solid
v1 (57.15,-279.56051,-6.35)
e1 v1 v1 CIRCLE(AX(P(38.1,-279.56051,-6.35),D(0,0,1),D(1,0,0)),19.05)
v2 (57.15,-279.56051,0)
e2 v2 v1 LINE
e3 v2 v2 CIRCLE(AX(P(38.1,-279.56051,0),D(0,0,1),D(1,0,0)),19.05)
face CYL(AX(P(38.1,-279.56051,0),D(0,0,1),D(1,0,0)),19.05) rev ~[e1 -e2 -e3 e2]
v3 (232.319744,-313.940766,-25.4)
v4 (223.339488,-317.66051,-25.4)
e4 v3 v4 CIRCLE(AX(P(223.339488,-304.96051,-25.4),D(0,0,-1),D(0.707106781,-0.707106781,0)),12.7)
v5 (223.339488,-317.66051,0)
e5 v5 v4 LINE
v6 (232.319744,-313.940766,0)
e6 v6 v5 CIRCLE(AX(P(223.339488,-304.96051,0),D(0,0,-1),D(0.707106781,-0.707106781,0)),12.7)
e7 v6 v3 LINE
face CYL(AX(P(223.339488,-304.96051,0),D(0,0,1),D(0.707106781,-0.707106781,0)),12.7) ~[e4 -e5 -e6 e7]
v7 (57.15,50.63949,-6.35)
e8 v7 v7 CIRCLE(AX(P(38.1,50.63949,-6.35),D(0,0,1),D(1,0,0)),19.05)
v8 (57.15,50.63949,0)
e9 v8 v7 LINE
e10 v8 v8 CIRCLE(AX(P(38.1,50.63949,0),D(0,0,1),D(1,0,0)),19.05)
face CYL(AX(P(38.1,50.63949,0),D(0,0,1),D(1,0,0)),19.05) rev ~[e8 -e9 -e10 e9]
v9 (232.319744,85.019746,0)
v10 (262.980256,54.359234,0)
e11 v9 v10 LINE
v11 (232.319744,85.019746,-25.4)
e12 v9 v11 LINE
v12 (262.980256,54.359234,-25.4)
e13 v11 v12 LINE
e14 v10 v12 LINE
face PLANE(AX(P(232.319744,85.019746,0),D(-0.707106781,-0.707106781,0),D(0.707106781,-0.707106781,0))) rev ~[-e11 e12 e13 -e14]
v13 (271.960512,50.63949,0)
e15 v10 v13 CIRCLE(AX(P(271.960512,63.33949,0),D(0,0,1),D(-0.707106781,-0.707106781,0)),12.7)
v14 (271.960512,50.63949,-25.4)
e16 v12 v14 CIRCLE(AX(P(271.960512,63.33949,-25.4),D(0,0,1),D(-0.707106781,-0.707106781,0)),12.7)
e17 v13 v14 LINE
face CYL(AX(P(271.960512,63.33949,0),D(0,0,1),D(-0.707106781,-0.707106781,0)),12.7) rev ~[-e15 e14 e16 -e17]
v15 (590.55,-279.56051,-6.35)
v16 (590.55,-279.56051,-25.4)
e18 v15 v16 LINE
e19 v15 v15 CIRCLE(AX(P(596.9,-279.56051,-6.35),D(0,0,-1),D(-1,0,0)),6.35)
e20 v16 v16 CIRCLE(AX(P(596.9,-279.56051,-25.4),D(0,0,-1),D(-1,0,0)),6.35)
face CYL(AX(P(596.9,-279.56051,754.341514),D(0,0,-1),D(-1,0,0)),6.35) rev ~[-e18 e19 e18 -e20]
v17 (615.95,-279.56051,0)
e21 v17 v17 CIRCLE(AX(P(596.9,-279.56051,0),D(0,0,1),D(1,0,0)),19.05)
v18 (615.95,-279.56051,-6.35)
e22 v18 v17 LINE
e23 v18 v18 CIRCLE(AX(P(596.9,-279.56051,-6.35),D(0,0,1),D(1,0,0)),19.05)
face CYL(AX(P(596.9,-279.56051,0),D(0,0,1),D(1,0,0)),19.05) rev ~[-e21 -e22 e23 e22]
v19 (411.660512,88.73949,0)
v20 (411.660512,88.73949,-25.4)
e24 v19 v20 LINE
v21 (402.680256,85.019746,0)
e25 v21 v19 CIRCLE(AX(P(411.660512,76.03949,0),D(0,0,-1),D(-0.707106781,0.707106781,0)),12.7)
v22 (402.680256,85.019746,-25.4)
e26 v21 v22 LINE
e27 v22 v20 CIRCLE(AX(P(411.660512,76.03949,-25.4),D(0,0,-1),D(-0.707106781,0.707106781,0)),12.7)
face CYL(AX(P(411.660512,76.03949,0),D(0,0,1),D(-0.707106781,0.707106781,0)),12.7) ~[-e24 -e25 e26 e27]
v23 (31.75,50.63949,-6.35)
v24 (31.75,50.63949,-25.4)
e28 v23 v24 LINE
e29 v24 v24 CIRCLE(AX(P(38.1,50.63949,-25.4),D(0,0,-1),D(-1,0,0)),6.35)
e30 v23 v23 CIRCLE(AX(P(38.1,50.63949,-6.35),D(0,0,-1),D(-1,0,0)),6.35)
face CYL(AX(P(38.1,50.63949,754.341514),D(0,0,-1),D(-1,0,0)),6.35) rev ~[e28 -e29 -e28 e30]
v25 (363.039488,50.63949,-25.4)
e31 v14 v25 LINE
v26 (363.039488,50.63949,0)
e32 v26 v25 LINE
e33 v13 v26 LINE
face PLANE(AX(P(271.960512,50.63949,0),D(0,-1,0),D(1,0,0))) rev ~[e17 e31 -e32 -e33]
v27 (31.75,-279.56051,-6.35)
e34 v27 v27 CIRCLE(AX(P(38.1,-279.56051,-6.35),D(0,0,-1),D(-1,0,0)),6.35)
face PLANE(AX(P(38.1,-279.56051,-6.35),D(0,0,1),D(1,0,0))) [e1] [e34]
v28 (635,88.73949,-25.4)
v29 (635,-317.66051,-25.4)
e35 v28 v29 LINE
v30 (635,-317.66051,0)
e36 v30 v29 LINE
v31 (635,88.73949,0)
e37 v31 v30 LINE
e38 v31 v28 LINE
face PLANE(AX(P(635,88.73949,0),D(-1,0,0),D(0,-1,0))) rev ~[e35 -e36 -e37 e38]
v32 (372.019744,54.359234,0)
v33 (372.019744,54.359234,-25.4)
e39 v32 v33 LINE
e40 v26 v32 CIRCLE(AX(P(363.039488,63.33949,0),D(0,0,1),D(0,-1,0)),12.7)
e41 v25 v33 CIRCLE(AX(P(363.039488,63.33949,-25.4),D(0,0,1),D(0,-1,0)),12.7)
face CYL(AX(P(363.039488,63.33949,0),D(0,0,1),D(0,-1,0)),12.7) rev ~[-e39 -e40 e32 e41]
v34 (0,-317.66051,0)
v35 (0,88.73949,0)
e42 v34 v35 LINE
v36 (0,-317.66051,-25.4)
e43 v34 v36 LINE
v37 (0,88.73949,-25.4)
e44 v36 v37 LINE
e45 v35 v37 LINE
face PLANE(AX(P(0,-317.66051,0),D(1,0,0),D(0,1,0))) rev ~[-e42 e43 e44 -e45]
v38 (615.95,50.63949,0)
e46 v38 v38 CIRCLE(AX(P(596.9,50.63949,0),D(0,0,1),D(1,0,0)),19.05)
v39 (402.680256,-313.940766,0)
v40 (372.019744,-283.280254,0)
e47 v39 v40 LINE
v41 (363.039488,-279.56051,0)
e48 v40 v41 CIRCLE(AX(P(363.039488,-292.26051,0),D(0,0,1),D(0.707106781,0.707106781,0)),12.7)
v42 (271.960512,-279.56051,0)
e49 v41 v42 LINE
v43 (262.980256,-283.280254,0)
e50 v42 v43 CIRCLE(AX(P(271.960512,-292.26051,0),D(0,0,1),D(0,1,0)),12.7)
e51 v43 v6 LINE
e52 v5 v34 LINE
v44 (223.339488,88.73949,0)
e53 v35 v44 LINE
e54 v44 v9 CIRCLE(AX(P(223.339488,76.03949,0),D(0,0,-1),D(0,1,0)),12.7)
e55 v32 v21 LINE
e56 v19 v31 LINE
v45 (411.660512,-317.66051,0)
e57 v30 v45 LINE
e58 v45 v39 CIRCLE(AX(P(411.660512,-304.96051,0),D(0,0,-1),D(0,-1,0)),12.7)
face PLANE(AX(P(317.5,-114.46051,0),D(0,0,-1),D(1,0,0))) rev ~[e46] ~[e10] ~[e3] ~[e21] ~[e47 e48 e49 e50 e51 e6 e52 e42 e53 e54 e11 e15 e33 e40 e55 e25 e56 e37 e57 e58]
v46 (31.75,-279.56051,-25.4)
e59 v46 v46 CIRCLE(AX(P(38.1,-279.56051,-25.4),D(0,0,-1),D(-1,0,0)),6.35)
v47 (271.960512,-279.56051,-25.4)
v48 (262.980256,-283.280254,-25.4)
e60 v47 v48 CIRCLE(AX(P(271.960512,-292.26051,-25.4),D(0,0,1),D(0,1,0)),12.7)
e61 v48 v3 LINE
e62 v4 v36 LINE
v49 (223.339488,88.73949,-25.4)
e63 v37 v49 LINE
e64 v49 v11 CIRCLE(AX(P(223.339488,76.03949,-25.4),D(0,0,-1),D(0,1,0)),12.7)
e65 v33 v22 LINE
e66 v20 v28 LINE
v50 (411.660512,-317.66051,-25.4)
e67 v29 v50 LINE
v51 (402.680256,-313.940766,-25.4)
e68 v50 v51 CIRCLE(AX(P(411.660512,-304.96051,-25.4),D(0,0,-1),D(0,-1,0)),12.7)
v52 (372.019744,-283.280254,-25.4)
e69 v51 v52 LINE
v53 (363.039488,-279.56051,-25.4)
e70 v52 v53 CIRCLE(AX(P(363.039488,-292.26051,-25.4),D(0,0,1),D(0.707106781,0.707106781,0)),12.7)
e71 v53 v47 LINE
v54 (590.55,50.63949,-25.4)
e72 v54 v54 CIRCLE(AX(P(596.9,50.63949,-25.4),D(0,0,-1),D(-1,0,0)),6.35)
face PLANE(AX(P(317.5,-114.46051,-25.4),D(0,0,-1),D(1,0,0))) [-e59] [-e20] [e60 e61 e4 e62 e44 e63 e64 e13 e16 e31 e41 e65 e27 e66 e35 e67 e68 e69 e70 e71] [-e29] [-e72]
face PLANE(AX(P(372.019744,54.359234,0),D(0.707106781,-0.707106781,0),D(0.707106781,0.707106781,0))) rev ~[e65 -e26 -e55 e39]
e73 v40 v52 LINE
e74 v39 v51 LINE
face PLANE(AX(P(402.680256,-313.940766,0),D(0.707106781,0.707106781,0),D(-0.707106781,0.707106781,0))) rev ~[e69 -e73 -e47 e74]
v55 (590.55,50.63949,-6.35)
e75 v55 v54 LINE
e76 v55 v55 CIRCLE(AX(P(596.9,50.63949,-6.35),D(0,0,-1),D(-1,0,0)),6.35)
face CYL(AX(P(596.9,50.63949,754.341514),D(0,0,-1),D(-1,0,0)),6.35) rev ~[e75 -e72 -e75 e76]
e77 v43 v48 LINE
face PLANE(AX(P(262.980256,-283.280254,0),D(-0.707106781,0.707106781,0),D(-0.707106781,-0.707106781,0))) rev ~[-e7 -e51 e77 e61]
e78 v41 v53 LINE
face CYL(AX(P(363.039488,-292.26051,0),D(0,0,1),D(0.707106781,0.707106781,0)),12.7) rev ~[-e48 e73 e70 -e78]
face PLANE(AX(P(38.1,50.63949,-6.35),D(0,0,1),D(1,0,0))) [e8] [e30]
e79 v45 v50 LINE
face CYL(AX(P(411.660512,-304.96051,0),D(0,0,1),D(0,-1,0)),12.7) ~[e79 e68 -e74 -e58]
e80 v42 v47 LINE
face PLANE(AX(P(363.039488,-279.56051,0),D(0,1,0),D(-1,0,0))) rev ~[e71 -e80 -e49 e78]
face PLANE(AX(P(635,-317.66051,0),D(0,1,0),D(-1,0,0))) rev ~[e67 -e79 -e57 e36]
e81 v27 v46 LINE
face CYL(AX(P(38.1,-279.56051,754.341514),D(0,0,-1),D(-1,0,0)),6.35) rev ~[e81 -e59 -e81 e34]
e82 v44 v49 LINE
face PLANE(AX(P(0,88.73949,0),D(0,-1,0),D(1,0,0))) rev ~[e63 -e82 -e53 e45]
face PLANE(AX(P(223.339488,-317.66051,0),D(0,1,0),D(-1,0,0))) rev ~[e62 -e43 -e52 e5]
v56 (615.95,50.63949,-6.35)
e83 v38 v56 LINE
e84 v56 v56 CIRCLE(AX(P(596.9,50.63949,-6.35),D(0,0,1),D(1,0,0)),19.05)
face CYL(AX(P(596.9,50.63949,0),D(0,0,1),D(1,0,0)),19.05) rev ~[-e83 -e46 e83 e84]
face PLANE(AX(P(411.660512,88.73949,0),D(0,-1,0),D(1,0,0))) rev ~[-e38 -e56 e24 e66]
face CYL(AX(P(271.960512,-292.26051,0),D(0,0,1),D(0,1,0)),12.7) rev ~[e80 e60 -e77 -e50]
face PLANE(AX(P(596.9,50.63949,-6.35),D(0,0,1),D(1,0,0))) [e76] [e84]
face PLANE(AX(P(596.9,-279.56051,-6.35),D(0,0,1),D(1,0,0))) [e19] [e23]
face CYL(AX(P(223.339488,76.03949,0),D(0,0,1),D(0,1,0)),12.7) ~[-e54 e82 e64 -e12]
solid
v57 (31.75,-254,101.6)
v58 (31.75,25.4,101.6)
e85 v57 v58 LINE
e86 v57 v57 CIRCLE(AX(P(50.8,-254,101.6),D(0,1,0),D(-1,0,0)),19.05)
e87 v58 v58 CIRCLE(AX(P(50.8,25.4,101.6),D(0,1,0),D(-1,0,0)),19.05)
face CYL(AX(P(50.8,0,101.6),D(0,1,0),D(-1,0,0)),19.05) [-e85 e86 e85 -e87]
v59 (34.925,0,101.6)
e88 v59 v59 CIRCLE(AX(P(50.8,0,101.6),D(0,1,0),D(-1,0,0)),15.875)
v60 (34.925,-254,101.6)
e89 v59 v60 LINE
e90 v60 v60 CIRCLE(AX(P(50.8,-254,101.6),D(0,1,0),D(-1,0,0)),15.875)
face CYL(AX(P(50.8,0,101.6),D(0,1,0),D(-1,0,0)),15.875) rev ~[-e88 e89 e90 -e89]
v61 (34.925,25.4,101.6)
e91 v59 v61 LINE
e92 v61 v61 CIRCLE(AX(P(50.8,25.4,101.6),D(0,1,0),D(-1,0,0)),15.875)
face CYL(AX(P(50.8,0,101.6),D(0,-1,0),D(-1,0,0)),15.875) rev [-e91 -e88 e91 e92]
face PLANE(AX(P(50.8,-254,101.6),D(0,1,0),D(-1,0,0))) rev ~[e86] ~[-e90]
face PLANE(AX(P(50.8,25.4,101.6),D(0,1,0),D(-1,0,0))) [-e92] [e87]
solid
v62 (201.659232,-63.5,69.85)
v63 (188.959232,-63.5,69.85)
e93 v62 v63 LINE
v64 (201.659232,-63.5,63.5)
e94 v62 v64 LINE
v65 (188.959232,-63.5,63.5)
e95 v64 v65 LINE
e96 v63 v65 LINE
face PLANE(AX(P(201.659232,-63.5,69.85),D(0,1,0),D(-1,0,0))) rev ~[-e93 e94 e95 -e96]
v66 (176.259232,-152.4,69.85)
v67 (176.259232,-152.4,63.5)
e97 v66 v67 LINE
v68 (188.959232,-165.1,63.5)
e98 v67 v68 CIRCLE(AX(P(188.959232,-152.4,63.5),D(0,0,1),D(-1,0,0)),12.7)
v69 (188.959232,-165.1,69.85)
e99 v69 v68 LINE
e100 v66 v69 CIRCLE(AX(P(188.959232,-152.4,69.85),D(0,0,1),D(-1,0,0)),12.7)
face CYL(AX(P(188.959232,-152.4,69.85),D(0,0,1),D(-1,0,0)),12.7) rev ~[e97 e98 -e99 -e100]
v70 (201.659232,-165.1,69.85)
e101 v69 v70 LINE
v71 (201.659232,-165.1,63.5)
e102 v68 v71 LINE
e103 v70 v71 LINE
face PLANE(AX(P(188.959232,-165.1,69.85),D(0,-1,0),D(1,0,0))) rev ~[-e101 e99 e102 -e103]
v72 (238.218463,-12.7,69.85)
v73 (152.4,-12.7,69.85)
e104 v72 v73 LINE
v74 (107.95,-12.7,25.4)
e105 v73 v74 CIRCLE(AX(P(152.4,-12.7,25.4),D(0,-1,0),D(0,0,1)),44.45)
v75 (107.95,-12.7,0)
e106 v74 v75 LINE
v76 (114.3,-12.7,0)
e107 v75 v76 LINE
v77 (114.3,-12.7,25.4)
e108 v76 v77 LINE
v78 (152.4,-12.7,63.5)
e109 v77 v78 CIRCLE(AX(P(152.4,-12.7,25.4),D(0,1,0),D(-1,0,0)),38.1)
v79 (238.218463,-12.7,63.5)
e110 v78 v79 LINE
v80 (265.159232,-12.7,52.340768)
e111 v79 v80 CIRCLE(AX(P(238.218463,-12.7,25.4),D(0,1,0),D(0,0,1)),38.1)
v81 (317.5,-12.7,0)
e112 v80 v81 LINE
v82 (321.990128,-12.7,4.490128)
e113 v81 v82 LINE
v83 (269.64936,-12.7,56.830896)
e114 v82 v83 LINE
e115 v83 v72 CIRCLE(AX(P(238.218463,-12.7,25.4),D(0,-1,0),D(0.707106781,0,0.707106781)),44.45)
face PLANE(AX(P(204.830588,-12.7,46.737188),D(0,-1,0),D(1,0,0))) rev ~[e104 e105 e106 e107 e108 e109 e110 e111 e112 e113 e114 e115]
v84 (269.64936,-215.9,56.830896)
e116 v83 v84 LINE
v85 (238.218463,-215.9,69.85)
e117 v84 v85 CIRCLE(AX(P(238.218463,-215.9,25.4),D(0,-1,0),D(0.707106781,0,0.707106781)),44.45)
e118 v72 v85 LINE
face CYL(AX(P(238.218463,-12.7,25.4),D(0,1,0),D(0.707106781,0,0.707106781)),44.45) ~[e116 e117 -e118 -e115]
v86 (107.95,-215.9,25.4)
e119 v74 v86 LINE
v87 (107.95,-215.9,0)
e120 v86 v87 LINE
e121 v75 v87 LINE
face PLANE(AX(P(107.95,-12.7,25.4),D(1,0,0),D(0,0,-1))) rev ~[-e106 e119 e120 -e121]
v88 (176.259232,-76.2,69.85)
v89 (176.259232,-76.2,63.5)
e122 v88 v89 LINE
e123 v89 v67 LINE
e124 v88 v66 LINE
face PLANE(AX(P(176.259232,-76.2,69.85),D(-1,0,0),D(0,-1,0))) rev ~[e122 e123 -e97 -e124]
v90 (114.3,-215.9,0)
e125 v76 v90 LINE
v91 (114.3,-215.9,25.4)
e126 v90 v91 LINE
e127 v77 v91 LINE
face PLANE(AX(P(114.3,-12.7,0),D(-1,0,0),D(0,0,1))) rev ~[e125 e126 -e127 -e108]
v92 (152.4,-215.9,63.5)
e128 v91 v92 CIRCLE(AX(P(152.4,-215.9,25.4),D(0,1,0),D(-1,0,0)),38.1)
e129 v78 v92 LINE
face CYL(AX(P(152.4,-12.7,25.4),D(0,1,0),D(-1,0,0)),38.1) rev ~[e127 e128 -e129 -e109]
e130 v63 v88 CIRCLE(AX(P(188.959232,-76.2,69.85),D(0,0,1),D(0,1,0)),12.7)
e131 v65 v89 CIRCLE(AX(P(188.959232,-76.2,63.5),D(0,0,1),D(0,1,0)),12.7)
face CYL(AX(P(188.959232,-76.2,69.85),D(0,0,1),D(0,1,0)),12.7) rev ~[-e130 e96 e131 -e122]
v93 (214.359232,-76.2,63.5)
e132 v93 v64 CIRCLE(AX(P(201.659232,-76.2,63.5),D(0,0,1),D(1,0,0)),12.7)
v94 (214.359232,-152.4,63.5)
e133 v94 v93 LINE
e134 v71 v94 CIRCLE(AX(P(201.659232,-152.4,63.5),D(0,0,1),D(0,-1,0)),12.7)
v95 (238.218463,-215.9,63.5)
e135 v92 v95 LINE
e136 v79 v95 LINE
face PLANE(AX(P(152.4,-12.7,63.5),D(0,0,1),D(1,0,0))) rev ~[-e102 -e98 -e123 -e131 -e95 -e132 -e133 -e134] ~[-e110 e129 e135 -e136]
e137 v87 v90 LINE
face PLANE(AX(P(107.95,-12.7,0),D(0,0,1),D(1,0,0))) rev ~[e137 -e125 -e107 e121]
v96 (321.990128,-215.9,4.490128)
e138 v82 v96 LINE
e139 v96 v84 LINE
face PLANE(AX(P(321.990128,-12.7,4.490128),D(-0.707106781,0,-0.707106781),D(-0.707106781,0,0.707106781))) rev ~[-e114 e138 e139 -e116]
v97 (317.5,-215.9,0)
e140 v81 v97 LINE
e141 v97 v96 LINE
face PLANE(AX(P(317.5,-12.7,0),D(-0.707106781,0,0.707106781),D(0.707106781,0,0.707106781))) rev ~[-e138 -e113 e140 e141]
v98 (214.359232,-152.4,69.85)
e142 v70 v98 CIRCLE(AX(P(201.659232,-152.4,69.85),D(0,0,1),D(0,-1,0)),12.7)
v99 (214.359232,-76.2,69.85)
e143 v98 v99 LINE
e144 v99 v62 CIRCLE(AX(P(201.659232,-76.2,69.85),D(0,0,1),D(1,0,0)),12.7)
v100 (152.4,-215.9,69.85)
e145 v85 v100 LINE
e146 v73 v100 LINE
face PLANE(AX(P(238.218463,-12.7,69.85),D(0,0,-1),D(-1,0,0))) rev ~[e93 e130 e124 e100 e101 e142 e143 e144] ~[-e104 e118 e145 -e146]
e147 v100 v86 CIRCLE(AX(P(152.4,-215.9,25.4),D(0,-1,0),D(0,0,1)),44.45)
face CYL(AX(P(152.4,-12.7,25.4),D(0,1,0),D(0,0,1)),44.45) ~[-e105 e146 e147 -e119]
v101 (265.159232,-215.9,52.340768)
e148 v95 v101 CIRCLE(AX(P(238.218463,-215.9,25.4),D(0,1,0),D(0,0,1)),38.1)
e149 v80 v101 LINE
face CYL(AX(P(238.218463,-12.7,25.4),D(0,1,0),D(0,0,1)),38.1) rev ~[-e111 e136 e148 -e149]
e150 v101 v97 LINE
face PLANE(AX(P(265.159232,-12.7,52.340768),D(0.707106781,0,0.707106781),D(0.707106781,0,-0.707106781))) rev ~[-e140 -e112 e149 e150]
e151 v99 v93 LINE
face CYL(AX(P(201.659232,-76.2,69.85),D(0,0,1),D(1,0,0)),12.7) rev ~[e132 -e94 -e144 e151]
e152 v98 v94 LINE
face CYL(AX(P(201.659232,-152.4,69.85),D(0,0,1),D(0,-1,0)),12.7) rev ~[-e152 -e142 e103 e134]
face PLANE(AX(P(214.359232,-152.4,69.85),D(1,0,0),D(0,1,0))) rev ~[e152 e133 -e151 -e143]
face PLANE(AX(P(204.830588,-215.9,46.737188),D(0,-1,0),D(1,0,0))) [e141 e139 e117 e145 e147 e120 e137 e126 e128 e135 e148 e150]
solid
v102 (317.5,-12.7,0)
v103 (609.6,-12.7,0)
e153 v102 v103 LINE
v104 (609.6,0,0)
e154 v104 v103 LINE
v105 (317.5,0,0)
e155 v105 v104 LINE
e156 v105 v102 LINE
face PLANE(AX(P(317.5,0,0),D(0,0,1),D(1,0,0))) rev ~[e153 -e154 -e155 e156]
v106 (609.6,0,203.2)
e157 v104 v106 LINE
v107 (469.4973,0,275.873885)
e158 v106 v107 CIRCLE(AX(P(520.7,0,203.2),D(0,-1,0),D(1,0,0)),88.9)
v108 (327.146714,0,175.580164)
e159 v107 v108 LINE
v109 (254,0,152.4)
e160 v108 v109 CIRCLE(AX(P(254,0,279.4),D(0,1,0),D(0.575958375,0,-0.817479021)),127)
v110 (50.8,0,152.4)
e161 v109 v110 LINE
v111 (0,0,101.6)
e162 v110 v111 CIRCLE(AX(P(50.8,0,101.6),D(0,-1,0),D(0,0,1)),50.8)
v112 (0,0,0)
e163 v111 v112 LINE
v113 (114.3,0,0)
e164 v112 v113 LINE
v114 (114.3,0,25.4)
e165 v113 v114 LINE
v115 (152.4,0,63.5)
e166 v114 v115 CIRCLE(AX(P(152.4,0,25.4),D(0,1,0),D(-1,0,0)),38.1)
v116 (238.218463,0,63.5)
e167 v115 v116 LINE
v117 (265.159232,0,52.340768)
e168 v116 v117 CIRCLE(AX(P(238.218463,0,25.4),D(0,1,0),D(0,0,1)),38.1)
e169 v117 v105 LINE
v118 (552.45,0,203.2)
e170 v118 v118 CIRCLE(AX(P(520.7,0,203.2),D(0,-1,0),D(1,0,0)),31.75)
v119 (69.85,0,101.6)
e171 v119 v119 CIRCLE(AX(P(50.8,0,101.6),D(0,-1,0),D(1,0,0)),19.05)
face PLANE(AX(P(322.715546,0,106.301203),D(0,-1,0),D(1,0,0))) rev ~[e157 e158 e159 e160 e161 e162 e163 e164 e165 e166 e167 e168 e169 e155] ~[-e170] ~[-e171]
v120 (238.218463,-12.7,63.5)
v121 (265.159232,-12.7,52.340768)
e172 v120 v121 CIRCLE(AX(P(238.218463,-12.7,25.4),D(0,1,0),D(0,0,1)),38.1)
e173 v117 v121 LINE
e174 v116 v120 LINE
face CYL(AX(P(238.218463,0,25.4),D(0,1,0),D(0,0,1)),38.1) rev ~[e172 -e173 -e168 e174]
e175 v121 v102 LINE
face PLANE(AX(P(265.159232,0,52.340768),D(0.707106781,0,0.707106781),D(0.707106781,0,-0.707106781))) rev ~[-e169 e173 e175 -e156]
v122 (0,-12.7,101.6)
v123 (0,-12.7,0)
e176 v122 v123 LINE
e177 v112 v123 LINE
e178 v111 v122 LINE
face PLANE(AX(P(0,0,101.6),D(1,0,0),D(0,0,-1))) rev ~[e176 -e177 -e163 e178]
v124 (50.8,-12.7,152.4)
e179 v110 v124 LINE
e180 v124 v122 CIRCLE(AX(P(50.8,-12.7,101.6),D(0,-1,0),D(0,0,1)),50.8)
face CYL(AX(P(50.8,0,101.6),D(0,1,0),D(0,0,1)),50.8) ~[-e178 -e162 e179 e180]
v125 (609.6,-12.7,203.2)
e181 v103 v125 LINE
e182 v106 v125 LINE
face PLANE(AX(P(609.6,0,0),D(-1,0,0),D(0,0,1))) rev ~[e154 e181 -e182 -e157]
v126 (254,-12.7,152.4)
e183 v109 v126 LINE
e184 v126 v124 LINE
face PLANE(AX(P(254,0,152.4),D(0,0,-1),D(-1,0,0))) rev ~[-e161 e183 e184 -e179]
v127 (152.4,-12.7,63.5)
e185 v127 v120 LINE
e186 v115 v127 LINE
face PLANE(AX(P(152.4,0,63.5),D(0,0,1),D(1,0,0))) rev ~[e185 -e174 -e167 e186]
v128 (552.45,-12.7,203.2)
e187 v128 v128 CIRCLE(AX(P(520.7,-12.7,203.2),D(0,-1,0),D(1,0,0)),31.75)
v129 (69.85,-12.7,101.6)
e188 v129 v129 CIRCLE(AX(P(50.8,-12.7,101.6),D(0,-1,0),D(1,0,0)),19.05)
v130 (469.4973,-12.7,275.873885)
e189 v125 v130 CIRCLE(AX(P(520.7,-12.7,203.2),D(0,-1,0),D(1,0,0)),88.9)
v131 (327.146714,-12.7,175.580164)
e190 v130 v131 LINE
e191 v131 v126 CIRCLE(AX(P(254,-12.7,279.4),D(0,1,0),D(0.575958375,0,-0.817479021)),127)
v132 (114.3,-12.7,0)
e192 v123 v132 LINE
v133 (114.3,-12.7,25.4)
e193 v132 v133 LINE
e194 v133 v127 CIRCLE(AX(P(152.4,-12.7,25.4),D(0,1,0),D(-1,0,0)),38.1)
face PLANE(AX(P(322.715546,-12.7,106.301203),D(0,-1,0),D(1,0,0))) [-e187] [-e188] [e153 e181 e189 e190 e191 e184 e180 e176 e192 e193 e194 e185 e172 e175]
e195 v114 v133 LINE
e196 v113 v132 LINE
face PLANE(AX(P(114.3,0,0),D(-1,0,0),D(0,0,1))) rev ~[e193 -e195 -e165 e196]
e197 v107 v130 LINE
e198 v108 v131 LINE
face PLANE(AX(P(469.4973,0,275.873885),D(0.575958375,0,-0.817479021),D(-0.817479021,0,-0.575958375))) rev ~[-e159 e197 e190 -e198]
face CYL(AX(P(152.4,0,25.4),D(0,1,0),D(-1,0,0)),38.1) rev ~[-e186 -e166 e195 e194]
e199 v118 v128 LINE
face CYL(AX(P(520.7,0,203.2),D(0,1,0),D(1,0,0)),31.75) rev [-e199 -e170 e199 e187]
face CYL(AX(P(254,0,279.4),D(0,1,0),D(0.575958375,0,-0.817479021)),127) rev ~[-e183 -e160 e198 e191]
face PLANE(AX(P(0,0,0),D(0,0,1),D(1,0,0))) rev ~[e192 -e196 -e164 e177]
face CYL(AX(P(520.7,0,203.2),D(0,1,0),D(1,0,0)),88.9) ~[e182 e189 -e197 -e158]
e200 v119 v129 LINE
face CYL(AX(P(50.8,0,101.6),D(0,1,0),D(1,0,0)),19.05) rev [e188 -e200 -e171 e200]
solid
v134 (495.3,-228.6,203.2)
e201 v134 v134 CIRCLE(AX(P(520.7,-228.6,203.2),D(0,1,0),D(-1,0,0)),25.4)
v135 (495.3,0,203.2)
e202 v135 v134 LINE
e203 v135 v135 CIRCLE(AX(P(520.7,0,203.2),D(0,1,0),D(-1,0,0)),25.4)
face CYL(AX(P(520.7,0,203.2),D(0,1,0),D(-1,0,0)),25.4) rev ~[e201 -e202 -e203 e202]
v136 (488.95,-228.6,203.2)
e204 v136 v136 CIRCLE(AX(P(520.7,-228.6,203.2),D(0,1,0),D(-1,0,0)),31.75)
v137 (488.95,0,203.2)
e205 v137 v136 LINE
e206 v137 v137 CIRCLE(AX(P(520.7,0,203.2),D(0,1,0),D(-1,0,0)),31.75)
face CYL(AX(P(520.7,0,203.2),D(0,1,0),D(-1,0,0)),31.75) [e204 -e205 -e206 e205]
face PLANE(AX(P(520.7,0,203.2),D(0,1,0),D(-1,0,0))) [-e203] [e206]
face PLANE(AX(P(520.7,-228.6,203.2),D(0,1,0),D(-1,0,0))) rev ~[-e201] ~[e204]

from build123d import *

# Parameters (mm, degrees)
F0_R           = 19.05
F0_R_2         = 31.75
F1_DEPTH       = 12.7
F3_DEPTH       = 25.4
F5_DEPTH       = 203.2
F6_R           = 31.75
F6_R_2         = 25.4000000767
F7_DEPTH       = 228.6
F8_R           = 19.05
F8_R_2         = 6.35
F9_DEPTH       = 6.35
F10_D          = 12.7
F11_R          = 19.05
F11_R_2        = 15.875
F12_DEPTH      = 25.4
F12_DEPTH_BACK = 254
F14_DEPTH      = 25.4


with BuildPart() as f1:
    # F0 (on Front) → F1 (new body)
    with BuildSketch(Plane.XZ):
        with BuildLine():
            Line((0, 101.6), (0, 0))
            Line((0, 0), (114.3, 0))
            Line((114.3, 0), (114.3, 25.4))
            ThreePointArc((114.3, 25.4), (125.4592316368, 52.3407683632), (152.4, 63.5))
            Line((152.4, 63.5), (238.2184632736, 63.5))
            ThreePointArc((238.2184632736, 63.5), (252.7987020467, 60.5998101887), (265.1592316368, 52.3407683632))
            Line((265.1592316368, 52.3407683632), (317.5, 0))
            Line((317.5, 0), (609.6, 0))
            Line((609.6, 0), (609.6, 203.2))
            ThreePointArc((609.6, 203.2), (561.634643106, 282.1149225038), (469.4973004774, 275.8738850041))
            Line((469.4973004774, 275.8738850041), (327.1467136038, 175.5801642798))
            ThreePointArc((327.1467136038, 175.5801642798), (292.3658758764, 158.3336563357), (254, 152.4))
            Line((254, 152.4), (50.8, 152.4))
            ThreePointArc((50.8, 152.4), (14.8789755157, 137.5210244843), (0, 101.6))
        make_face()
        with Locations((50.8, 101.6)):
            Circle(F0_R, mode=Mode.SUBTRACT)
        with Locations((520.7, 203.2)):
            Circle(F0_R_2, mode=Mode.SUBTRACT)
    extrude(amount=F1_DEPTH)


with BuildPart() as f3:
    # F2 (on face) → F3 (new body)
    with BuildSketch(Plane(origin=(0, 0, 0), x_dir=(1, 0, 0), z_dir=(0, 0, -1))):
        with BuildLine():
            Line((411.6605122421, -88.7394899882), (635, -88.7394899882))
            Line((635, -88.7394899882), (635, 317.6605100118))
            Line((635, 317.6605100118), (411.6605122421, 317.6605100118))
            ThreePointArc((411.6605122421, 317.6605100118), (406.8004326511, 316.6937800747), (402.6802561211, 313.9407661328))
            Line((402.6802561211, 313.9407661328), (372.0197438789, 283.2802538907))
            ThreePointArc((372.0197438789, 283.2802538907), (367.8995673489, 280.5272399489), (363.0394877579, 279.5605100118))
            Line((363.0394877579, 279.5605100118), (271.9605122421, 279.5605100118))
            ThreePointArc((271.9605122421, 279.5605100118), (267.1004326511, 280.5272399489), (262.9802561211, 283.2802538907))
            Line((262.9802561211, 283.2802538907), (232.3197438789, 313.9407661328))
            ThreePointArc((232.3197438789, 313.9407661328), (228.1995673489, 316.6937800747), (223.3394877579, 317.6605100118))
            Line((223.3394877579, 317.6605100118), (0, 317.6605100118))
            Line((0, 317.6605100118), (0, -88.7394899882))
            Line((0, -88.7394899882), (223.3394877579, -88.7394899882))
            ThreePointArc((223.3394877579, -88.7394899882), (228.1995673489, -87.7727600511), (232.3197438789, -85.0197461093))
            Line((232.3197438789, -85.0197461093), (262.9802561211, -54.3592338672))
            ThreePointArc((262.9802561211, -54.3592338672), (267.1004326511, -51.6062199253), (271.9605122421, -50.6394899882))
            Line((271.9605122421, -50.6394899882), (363.0394877579, -50.6394899882))
            ThreePointArc((363.0394877579, -50.6394899882), (367.8995673489, -51.6062199253), (372.0197438789, -54.3592338672))
            Line((372.0197438789, -54.3592338672), (402.6802561211, -85.0197461093))
            ThreePointArc((402.6802561211, -85.0197461093), (406.8004326511, -87.7727600511), (411.6605122421, -88.7394899882))
        make_face()
    extrude(amount=F3_DEPTH)

    # F8 (on face) → F9 (cut, symmetric)
    with BuildSketch(Plane.XY):
        with Locations((596.9, 50.6394899882)):
            Circle(F8_R)
        with Locations((596.9, 50.6394899882)):
            Circle(F8_R_2, mode=Mode.SUBTRACT)
        with Locations((38.1, 50.6394899882)):
            Circle(F8_R)
        with Locations((38.1, 50.6394899882)):
            Circle(F8_R_2, mode=Mode.SUBTRACT)
        with Locations((38.1, -279.5605100118)):
            Circle(F8_R)
        with Locations((38.1, -279.5605100118)):
            Circle(F8_R_2, mode=Mode.SUBTRACT)
        with Locations((596.9, -279.5605100118)):
            Circle(F8_R)
        with Locations((596.9, -279.5605100118)):
            Circle(F8_R_2, mode=Mode.SUBTRACT)
        with Locations((596.9, -279.5605100118)):
            Circle(F8_R_2)
        with Locations((596.9, 50.6394899882)):
            Circle(F8_R_2)
        with Locations((38.1, -279.5605100118)):
            Circle(F8_R_2)
        with Locations((38.1, 50.6394899882)):
            Circle(F8_R_2)
    extrude(amount=F9_DEPTH, both=True, mode=Mode.SUBTRACT)

    # F10 (through all)
    with Locations(Plane.XY):
        with Locations((38.1, -279.5605100118), (38.1, 50.6394899882), (596.9, -279.5605100118), (596.9, 50.6394899882)):
            Hole(F10_D / 2)


with BuildPart() as f5:
    # F4 (on face) → F5 (new body)
    with BuildSketch(Plane.XZ.offset(12.7)):
        with BuildLine():
            Line((107.95, 0), (114.3, 0))
            Line((114.3, 0), (114.3, 25.4))
            ThreePointArc((114.3, 25.4), (125.4592316368, 52.3407683632), (152.4, 63.5))
            Line((152.4, 63.5), (238.2184632736, 63.5))
            ThreePointArc((238.2184632736, 63.5), (252.7987020467, 60.5998101887), (265.1592316368, 52.3407683632))
            Line((265.1592316368, 52.3407683632), (317.5, 0))
            Line((317.5, 0), (321.9901280605, 4.4901280605))
            Line((321.9901280605, 4.4901280605), (269.6493596973, 56.8308964237))
            ThreePointArc((269.6493596973, 56.8308964237), (255.2287418422, 66.4664452201), (238.2184632736, 69.85))
            Line((238.2184632736, 69.85), (152.4, 69.85))
            ThreePointArc((152.4, 69.85), (120.9691035763, 56.8308964237), (107.95, 25.4))
            Line((107.95, 25.4), (107.95, 0))
        make_face()
    extrude(amount=F5_DEPTH)

    # F13 (on face) → F14 (cut)
    with BuildSketch(Plane.XY.offset(69.85)):
        with BuildLine():
            Line((201.6592316368, -63.5), (188.9592316368, -63.5))
            ThreePointArc((188.9592316368, -63.5), (179.9789755157, -67.2197438789), (176.2592316368, -76.2))
            Line((176.2592316368, -76.2), (176.2592316368, -152.4))
            ThreePointArc((176.2592316368, -152.4), (179.9789755157, -161.3802561211), (188.9592316368, -165.1))
            Line((188.9592316368, -165.1), (201.6592316368, -165.1))
            ThreePointArc((201.6592316368, -165.1), (210.6394877579, -161.3802561211), (214.3592316368, -152.4))
            Line((214.3592316368, -152.4), (214.3592316368, -76.2))
            ThreePointArc((214.3592316368, -76.2), (210.6394877579, -67.2197438789), (201.6592316368, -63.5))
        make_face()
    extrude(amount=-F14_DEPTH, mode=Mode.SUBTRACT)


with BuildPart() as f7:
    # F6 (on face) → F7 (new body)
    with BuildSketch(Plane(origin=(0, 0, 0), x_dir=(-1, 0, 0), z_dir=(0, 1, 0))):
        with Locations((-520.7, 203.2)):
            Circle(F6_R)
        with Locations((-520.7, 203.2)):
            Circle(F6_R_2, mode=Mode.SUBTRACT)
    extrude(amount=-F7_DEPTH)


with BuildPart() as f12:
    # F11 (on face) → F12 (new body, two sides)
    with BuildSketch(Plane(origin=(0, 0, 0), x_dir=(-1, 0, 0), z_dir=(0, 1, 0))) as f12_sk:
        with Locations((-50.8, 101.6)):
            Circle(F11_R)
        with Locations((-50.8, 101.6)):
            Circle(F11_R_2, mode=Mode.SUBTRACT)
    extrude(amount=F12_DEPTH)
    extrude(f12_sk.sketch, amount=-F12_DEPTH_BACK)


solid = Compound([f1.part, f3.part, f5.part, f7.part, f12.part])
